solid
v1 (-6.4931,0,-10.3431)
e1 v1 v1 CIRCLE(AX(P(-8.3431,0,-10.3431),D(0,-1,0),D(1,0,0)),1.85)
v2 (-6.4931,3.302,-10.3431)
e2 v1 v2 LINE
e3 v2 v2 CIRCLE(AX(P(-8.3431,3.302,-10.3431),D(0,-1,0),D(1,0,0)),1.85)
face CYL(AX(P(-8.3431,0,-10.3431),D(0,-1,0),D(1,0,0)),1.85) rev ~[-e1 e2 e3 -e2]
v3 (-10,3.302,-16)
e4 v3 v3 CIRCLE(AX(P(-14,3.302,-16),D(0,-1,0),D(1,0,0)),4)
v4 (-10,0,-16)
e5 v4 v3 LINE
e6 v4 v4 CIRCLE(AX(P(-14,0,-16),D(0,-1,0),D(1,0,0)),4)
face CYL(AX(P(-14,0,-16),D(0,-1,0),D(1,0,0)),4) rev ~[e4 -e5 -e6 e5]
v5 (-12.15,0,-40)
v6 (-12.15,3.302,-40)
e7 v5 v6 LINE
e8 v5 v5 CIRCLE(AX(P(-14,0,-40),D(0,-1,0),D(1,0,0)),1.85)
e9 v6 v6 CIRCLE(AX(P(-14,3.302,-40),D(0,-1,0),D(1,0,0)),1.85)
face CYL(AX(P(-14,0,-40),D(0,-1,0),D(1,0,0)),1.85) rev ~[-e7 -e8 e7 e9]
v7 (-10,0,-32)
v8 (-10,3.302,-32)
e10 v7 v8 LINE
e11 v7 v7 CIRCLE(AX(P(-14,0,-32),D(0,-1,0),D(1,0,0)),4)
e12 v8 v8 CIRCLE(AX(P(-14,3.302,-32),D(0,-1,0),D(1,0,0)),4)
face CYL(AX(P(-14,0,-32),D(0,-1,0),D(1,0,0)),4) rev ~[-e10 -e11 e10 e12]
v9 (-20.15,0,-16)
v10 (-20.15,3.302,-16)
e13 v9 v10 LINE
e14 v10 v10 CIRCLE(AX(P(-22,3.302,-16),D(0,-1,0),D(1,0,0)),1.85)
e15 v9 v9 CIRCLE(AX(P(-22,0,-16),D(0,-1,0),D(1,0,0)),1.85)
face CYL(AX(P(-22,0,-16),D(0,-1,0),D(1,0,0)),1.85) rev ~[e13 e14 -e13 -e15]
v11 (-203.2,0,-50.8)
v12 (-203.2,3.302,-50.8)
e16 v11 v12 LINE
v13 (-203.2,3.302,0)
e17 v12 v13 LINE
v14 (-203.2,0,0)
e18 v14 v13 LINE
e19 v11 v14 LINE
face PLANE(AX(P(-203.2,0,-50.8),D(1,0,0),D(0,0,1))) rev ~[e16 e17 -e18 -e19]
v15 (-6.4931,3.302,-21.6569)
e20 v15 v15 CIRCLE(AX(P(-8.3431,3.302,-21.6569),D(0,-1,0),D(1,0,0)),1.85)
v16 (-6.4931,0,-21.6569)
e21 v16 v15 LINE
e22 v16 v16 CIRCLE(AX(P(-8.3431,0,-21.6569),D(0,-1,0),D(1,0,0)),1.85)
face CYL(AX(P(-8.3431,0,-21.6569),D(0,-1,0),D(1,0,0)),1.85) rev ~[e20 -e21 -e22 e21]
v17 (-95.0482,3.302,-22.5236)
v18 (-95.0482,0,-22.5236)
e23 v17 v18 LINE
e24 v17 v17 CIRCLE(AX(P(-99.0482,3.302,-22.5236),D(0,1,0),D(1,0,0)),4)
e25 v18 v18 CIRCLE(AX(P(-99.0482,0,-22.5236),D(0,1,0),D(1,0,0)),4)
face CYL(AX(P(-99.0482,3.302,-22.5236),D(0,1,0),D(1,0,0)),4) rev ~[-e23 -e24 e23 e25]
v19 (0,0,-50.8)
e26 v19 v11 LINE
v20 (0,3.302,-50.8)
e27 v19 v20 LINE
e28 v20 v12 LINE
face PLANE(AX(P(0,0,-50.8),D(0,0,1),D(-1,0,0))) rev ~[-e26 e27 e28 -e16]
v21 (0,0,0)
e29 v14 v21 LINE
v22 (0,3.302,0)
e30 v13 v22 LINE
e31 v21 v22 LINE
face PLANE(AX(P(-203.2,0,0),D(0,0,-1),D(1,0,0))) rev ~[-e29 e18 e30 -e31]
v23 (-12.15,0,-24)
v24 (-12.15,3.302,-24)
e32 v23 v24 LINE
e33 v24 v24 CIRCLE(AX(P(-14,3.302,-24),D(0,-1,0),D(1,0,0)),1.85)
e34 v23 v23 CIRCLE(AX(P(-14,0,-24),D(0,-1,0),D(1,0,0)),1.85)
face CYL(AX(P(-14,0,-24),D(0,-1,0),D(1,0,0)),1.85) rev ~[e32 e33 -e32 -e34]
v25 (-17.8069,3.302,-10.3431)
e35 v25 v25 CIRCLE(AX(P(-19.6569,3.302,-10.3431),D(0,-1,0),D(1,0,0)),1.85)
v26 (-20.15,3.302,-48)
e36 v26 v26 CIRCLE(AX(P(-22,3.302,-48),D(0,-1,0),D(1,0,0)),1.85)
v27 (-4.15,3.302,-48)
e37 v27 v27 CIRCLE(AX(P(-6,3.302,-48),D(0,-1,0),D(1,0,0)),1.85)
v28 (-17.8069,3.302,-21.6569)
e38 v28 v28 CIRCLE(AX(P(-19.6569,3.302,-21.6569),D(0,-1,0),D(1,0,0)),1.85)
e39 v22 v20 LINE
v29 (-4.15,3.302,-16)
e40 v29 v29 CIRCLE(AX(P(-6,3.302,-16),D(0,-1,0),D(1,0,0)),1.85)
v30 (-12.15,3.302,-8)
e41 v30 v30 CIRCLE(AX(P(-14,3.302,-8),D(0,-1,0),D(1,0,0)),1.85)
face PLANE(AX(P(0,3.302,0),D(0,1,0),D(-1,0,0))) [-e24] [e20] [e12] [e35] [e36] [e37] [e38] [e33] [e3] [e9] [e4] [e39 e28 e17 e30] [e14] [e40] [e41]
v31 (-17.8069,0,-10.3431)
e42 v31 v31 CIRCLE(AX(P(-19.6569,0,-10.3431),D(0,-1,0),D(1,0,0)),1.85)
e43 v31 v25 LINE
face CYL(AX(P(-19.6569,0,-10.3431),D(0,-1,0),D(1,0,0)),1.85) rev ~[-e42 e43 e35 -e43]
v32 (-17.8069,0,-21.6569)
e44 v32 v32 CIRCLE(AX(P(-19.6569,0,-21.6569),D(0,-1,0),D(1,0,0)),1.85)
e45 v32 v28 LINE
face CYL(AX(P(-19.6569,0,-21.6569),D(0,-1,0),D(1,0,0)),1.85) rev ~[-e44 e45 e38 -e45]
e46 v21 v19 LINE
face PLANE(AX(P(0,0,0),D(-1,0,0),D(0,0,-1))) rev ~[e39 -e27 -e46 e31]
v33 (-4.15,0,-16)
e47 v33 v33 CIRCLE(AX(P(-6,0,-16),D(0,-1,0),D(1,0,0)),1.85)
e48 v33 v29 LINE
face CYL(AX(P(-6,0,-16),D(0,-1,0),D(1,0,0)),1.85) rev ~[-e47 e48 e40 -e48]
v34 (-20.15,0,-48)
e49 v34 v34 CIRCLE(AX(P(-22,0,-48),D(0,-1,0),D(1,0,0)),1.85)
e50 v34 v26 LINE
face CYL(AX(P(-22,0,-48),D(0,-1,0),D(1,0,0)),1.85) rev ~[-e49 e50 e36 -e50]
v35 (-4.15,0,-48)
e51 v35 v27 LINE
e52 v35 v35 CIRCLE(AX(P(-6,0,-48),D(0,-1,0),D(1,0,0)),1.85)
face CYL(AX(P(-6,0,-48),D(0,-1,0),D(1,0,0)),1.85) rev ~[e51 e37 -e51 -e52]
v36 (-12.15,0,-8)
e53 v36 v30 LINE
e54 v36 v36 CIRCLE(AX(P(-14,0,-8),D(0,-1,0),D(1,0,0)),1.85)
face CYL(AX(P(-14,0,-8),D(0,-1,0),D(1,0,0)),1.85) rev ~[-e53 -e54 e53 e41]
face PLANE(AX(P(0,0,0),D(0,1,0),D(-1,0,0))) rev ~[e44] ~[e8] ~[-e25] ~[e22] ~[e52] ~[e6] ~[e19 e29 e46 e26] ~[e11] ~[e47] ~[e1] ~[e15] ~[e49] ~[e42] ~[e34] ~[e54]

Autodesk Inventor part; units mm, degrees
ref_plane "YZ Plane" through (0, 0, 0) normal (1, 0, 0) x (0, 1, 0)
ref_plane "XZ Plane" through (0, 0, 0) normal (0, 1, 0) x (-1, 0, 0)
ref_plane "XY Plane" through (0, 0, 0) normal (0, 0, 1) x (1, 0, 0)
sketch "Sketch1" plane through (0, 0, 0) normal (0, 1, 0) x (-1, 0, 0)
  line L0 (0, 0) -> (0, -50.8)
  line L1 (0, -50.8) -> (203.2, -50.8)
  line L2 (203.2, -50.8) -> (203.2, 0)
  line L3 (203.2, 0) -> (0, 0)
  dimension "d0" = 50.8
  dimension "d1" = 203.2
extrude "Extrusion1" add sketch "Sketch1" along normal blind 3.302
sketch "Sketch2" plane through (0, 0, 0) normal (0, -1, 0) x (1, 0, 0)
  line L0 (-0.5, 0) -> (-0.5, -416) projected
  line L1 (-27.5, -416) -> (-0.5, -416) projected
  arc A0 (-30, -413.5) -> (-27.5, -416) centre (-27.5, -413.5) ccw projected
  line L2 (-30, -413.5) -> (-30, -2.5) projected
  arc A1 (-27.5, 0) -> (-30, -2.5) centre (-27.5, -2.5) ccw projected
  line L3 (-27.5, 0) -> (-0.5, 0) projected
  circle A2 centre (-14, -288) radius 4 projected
  circle A3 centre (-14, -320) radius 4 projected
  circle A4 centre (-14, -352) radius 4 projected
  circle A5 centre (-14, -384) radius 4 projected
  circle A6 centre (-14, -16) radius 4 projected
  circle A7 centre (-22, -16) radius 1.85 projected
  circle A8 centre (-6, -16) radius 1.85 projected
  circle A9 centre (-14, -24) radius 1.85 projected
  circle A10 centre (-14, -8) radius 1.85 projected
  circle A11 centre (-19.6569, -21.6569) radius 1.85 projected
  circle A12 centre (-19.6569, -10.3431) radius 1.85 projected
  circle A13 centre (-8.3431, -10.3431) radius 1.85 projected
  circle A14 centre (-8.3431, -21.6569) radius 1.85 projected
  circle A15 centre (-14, -80) radius 4 projected
  circle A16 centre (-22, -80) radius 1.85 projected
  circle A17 centre (-6, -80) radius 1.85 projected
  circle A18 centre (-14, -88) radius 1.85 projected
  circle A19 centre (-14, -72) radius 1.85 projected
  circle A20 centre (-19.6569, -85.6569) radius 1.85 projected
  circle A21 centre (-19.6569, -74.3431) radius 1.85 projected
  circle A22 centre (-8.3431, -74.3431) radius 1.85 projected
  circle A23 centre (-8.3431, -85.6569) radius 1.85 projected
  circle A24 centre (-14, -144) radius 4 projected
  circle A25 centre (-22, -144) radius 1.85 projected
  circle A26 centre (-6, -144) radius 1.85 projected
  circle A27 centre (-14, -152) radius 1.85 projected
  circle A28 centre (-14, -136) radius 1.85 projected
  circle A29 centre (-19.6569, -149.6569) radius 1.85 projected
  circle A30 centre (-19.6569, -138.3431) radius 1.85 projected
  circle A31 centre (-8.3431, -138.3431) radius 1.85 projected
  circle A32 centre (-8.3431, -149.6569) radius 1.85 projected
  circle A33 centre (-14, -208) radius 4 projected
  circle A34 centre (-22, -208) radius 1.85 projected
  circle A35 centre (-6, -208) radius 1.85 projected
  circle A36 centre (-14, -216) radius 1.85 projected
  circle A37 centre (-14, -200) radius 1.85 projected
  circle A38 centre (-19.6569, -213.6569) radius 1.85 projected
  circle A39 centre (-19.6569, -202.3431) radius 1.85 projected
  circle A40 centre (-8.3431, -202.3431) radius 1.85 projected
  circle A41 centre (-8.3431, -213.6569) radius 1.85 projected
  circle A42 centre (-14, -272) radius 4 projected
  circle A43 centre (-22, -272) radius 1.85 projected
  circle A44 centre (-6, -272) radius 1.85 projected
  circle A45 centre (-14, -280) radius 1.85 projected
  circle A46 centre (-14, -264) radius 1.85 projected
  circle A47 centre (-19.6569, -277.6569) radius 1.85 projected
  circle A48 centre (-19.6569, -266.3431) radius 1.85 projected
  circle A49 centre (-8.3431, -266.3431) radius 1.85 projected
  circle A50 centre (-8.3431, -277.6569) radius 1.85 projected
  circle A51 centre (-14, -336) radius 4 projected
  circle A52 centre (-22, -336) radius 1.85 projected
  circle A53 centre (-6, -336) radius 1.85 projected
  circle A54 centre (-14, -344) radius 1.85 projected
  circle A55 centre (-14, -328) radius 1.85 projected
  circle A56 centre (-19.6569, -341.6569) radius 1.85 projected
  circle A57 centre (-19.6569, -330.3431) radius 1.85 projected
  circle A58 centre (-8.3431, -330.3431) radius 1.85 projected
  circle A59 centre (-8.3431, -341.6569) radius 1.85 projected
  circle A60 centre (-14, -400) radius 4 projected
  circle A61 centre (-22, -400) radius 1.85 projected
  circle A62 centre (-6, -400) radius 1.85 projected
  circle A63 centre (-14, -408) radius 1.85 projected
  circle A64 centre (-14, -392) radius 1.85 projected
  circle A65 centre (-19.6569, -405.6569) radius 1.85 projected
  circle A66 centre (-19.6569, -394.3431) radius 1.85 projected
  circle A67 centre (-8.3431, -394.3431) radius 1.85 projected
  circle A68 centre (-8.3431, -405.6569) radius 1.85 projected
  circle A69 centre (-14, -48) radius 4 projected
  circle A70 centre (-22, -48) radius 1.85 projected
  circle A71 centre (-14, -56) radius 1.85 projected
  circle A72 centre (-6, -48) radius 1.85 projected
  circle A73 centre (-14, -40) radius 1.85 projected
  circle A74 centre (-14, -112) radius 4 projected
  circle A75 centre (-22, -112) radius 1.85 projected
  circle A76 centre (-14, -120) radius 1.85 projected
  circle A77 centre (-6, -112) radius 1.85 projected
  circle A78 centre (-14, -104) radius 1.85 projected
  circle A79 centre (-14, -176) radius 4 projected
  circle A80 centre (-22, -176) radius 1.85 projected
  circle A81 centre (-14, -184) radius 1.85 projected
  circle A82 centre (-6, -176) radius 1.85 projected
  circle A83 centre (-14, -168) radius 1.85 projected
  circle A84 centre (-14, -240) radius 4 projected
  circle A85 centre (-22, -240) radius 1.85 projected
  circle A86 centre (-14, -248) radius 1.85 projected
  circle A87 centre (-6, -240) radius 1.85 projected
  circle A88 centre (-14, -232) radius 1.85 projected
  circle A89 centre (-14, -304) radius 4 projected
  circle A90 centre (-22, -304) radius 1.85 projected
  circle A91 centre (-14, -312) radius 1.85 projected
  circle A92 centre (-6, -304) radius 1.85 projected
  circle A93 centre (-14, -296) radius 1.85 projected
  circle A94 centre (-14, -368) radius 4 projected
  circle A95 centre (-22, -368) radius 1.85 projected
  circle A96 centre (-14, -376) radius 1.85 projected
  circle A97 centre (-6, -368) radius 1.85 projected
  circle A98 centre (-14, -360) radius 1.85 projected
  circle A99 centre (-14, -32) radius 4 projected
  circle A100 centre (-14, -64) radius 4 projected
  circle A101 centre (-14, -96) radius 4 projected
  circle A102 centre (-14, -128) radius 4 projected
  circle A103 centre (-14, -160) radius 4 projected
  circle A104 centre (-14, -192) radius 4 projected
  circle A105 centre (-14, -224) radius 4 projected
  circle A106 centre (-14, -256) radius 4 projected
  point P0 (0, 0)
extrude "Extrusion2" cut sketch "Sketch2" against normal blind 20.5105 contours A6 | A7 | A8 | A9 | A10 | A11 | A12 | A13 | A14 | A70 | A72 | A73 | A99
sketch "Sketch3" plane through (0, 3.302, 0) normal (0, 1, 0) x (1, 0, 0)
  circle A0 centre (-98.9805, 70.6479) radius 6 projected
  arc A1 (-126.4697, 56.3203) -> (-127.7519, 54.8984) centre (-117.6318, 47.0611) ccw projected
  arc A2 (-127.7519, 54.8984) -> (-127.494, 54.4363) centre (-98.9805, 70.6479) ccw projected
  arc A3 (-127.494, 54.4363) -> (-125.6107, 54.7807) centre (-128.8482, 67.1645) ccw projected
  arc A4 (-125.6107, 54.7807) -> (-125.2608, 54.2076) centre (-98.9805, 70.6479) ccw projected
  arc A5 (-125.2608, 54.2076) -> (-126.4275, 52.6896) centre (-115.7237, 45.6704) ccw projected
  arc A6 (-126.4275, 52.6896) -> (-126.1342, 52.2491) centre (-98.9805, 70.6479) ccw projected
  arc A7 (-126.1342, 52.2491) -> (-124.2837, 52.7402) centre (-128.4828, 64.8318) ccw projected
  arc A8 (-124.2837, 52.7402) -> (-123.8899, 52.1964) centre (-98.9805, 70.6479) ccw projected
  arc A9 (-123.8899, 52.1964) -> (-124.9339, 50.5915) centre (-113.7124, 44.4337) ccw projected
  arc A10 (-124.9339, 50.5915) -> (-124.6069, 50.1754) centre (-98.9805, 70.6479) ccw projected
  arc A11 (-124.6069, 50.1754) -> (-122.8006, 50.8101) centre (-127.9355, 62.535) ccw projected
  arc A12 (-122.8006, 50.8101) -> (-122.3654, 50.2989) centre (-98.9805, 70.6479) ccw projected
  arc A13 (-122.3654, 50.2989) -> (-123.2803, 48.6171) centre (-111.6103, 43.3587) ccw projected
  arc A14 (-123.2803, 48.6171) -> (-122.9217, 48.2279) centre (-98.9805, 70.6479) ccw projected
  arc A15 (-122.9217, 48.2279) -> (-121.1708, 49.0024) centre (-127.2098, 60.2882) ccw projected
  arc A16 (-121.1708, 49.0024) -> (-120.6968, 48.5269) centre (-98.9805, 70.6479) ccw projected
  arc A17 (-120.6968, 48.5269) -> (-121.4768, 46.7784) centre (-109.4302, 42.4519) ccw projected
  arc A18 (-121.4768, 46.7784) -> (-121.0888, 46.4186) centre (-98.9805, 70.6479) ccw projected
  arc A19 (-121.0888, 46.4186) -> (-119.4041, 47.3281) centre (-126.3099, 58.1053) ccw projected
  arc A20 (-119.4041, 47.3281) -> (-118.8942, 46.8912) centre (-98.9805, 70.6479) ccw projected
  arc A21 (-118.8942, 46.8912) -> (-119.5347, 45.087) centre (-107.1858, 41.7189) ccw projected
  arc A22 (-119.5347, 45.087) -> (-119.1197, 44.7587) centre (-98.9805, 70.6479) ccw projected
  arc A23 (-119.1197, 44.7587) -> (-117.5114, 45.7976) centre (-125.2416, 55.9998) ccw projected
  arc A24 (-117.5114, 45.7976) -> (-116.9689, 45.4021) centre (-98.9805, 70.6479) ccw projected
  arc A25 (-116.9689, 45.4021) -> (-117.4659, 43.5531) centre (-104.8907, 41.1643) ccw projected
  arc A26 (-117.4659, 43.5531) -> (-117.0263, 43.2584) centre (-98.9805, 70.6479) ccw projected
  arc A27 (-117.0263, 43.2584) -> (-115.5046, 44.4202) centre (-124.0114, 53.9845) ccw projected
  arc A28 (-115.5046, 44.4202) -> (-114.9327, 44.0685) centre (-98.9805, 70.6479) ccw projected
  arc A29 (-114.9327, 44.0685) -> (-115.283, 42.1863) centre (-102.5593, 40.7915) ccw projected
  arc A30 (-115.283, 42.1863) -> (-114.8217, 41.927) centre (-98.9805, 70.6479) ccw projected
  arc A31 (-114.8217, 41.927) -> (-113.3958, 43.2046) centre (-122.6268, 52.072) ccw projected
  arc A32 (-113.3958, 43.2046) -> (-112.7981, 42.8989) centre (-98.9805, 70.6479) ccw projected
  arc A33 (-112.7981, 42.8989) -> (-112.9997, 40.9949) centre (-100.2057, 40.6028) ccw projected
  arc A34 (-112.9997, 40.9949) -> (-112.5195, 40.7726) centre (-98.9805, 70.6479) ccw projected
  arc A35 (-112.5195, 40.7726) -> (-111.1982, 42.1582) centre (-121.0964, 50.274) ccw projected
  arc A36 (-111.1982, 42.1582) -> (-110.5783, 41.9003) centre (-98.9805, 70.6479) ccw projected
  arc A37 (-110.5783, 41.9003) -> (-110.6299, 39.9864) centre (-97.8446, 40.5992) ccw projected
  arc A38 (-110.6299, 39.9864) -> (-110.1337, 39.8024) centre (-98.9805, 70.6479) ccw projected
  arc A39 (-110.1337, 39.8024) -> (-108.9253, 41.2874) centre (-119.4297, 48.6016) ccw projected
  arc A40 (-108.9253, 41.2874) -> (-108.2871, 41.0789) centre (-98.9805, 70.6479) ccw projected
  arc A41 (-108.2871, 41.0789) -> (-108.1884, 39.1669) centre (-95.4905, 40.781) ccw projected
  arc A42 (-108.1884, 39.1669) -> (-107.6793, 39.0225) centre (-98.9805, 70.6479) ccw projected
  arc A43 (-107.6793, 39.0225) -> (-106.591, 40.5977) centre (-117.637, 47.0651) ccw projected
  arc A44 (-106.591, 40.5977) -> (-105.9384, 40.4399) centre (-98.9805, 70.6479) ccw projected
  arc A45 (-105.9384, 40.4399) -> (-105.69, 38.5415) centre (-93.158, 41.1469) ccw projected
  arc A46 (-105.69, 38.5415) -> (-105.1711, 38.4375) centre (-98.9805, 70.6479) ccw projected
  arc A47 (-105.1711, 38.4375) -> (-104.2099, 40.0932) centre (-115.7292, 45.674) ccw projected
  arc A48 (-104.2099, 40.0932) -> (-103.5469, 39.9871) centre (-98.9805, 70.6479) ccw projected
  arc A49 (-103.5469, 39.9871) -> (-103.1503, 38.1141) centre (-90.8613, 41.6947) ccw projected
  arc A50 (-103.1503, 38.1141) -> (-102.6248, 38.051) centre (-98.9805, 70.6479) ccw projected
  arc A51 (-102.6248, 38.051) -> (-101.7964, 39.7771) centre (-113.7181, 44.4369) ccw projected
  arc A52 (-101.7964, 39.7771) -> (-101.1272, 39.7234) centre (-98.9805, 70.6479) ccw projected
  arc A53 (-101.1272, 39.7234) -> (-100.5848, 37.8872) centre (-88.6147, 42.4209) ccw projected
  arc A54 (-100.5848, 37.8872) -> (-100.0561, 37.8656) centre (-98.9805, 70.6479) ccw projected
  arc A55 (-100.0561, 37.8656) -> (-99.3657, 39.6513) centre (-111.6162, 43.3614) ccw projected
  arc A56 (-99.3657, 39.6513) -> (-98.6942, 39.6503) centre (-98.9805, 70.6479) ccw projected
  arc A57 (-98.6942, 39.6503) -> (-98.0095, 37.8623) centre (-86.4319, 43.3212) ccw projected
  arc A58 (-98.0095, 37.8623) -> (-97.4807, 37.8823) centre (-98.9805, 70.6479) ccw projected
  arc A59 (-97.4807, 37.8823) -> (-96.9325, 39.7167) centre (-109.4364, 42.4542) ccw projected
  arc A60 (-96.9325, 39.7167) -> (-96.2631, 39.7683) centre (-98.9805, 70.6479) ccw projected
  arc A61 (-96.2631, 39.7683) -> (-95.4402, 38.0396) centre (-84.3266, 44.39) ccw projected
  arc A62 (-95.4402, 38.0396) -> (-94.9146, 38.1009) centre (-98.9805, 70.6479) ccw projected
  arc A63 (-94.9146, 38.1009) -> (-94.512, 39.9727) centre (-107.1921, 41.7207) ccw projected
  arc A64 (-94.512, 39.9727) -> (-93.8487, 40.0767) centre (-98.9805, 70.6479) ccw projected
  arc A65 (-93.8487, 40.0767) -> (-92.8927, 38.4179) centre (-82.3116, 45.6207) ccw projected
  arc A66 (-92.8927, 38.4179) -> (-92.3735, 38.5203) centre (-98.9805, 70.6479) ccw projected
  arc A67 (-92.3735, 38.5203) -> (-92.119, 40.4179) centre (-104.8971, 41.1656) ccw projected
  arc A68 (-92.119, 40.4179) -> (-91.4659, 40.5736) centre (-98.9805, 70.6479) ccw projected
  arc A69 (-91.4659, 40.5736) -> (-90.3827, 38.9949) centre (-80.3994, 47.0057) ccw projected
  arc A70 (-90.3827, 38.9949) -> (-89.8731, 39.1377) centre (-98.9805, 70.6479) ccw projected
  arc A71 (-89.8731, 39.1377) -> (-89.7683, 41.0494) centre (-102.5657, 40.7923) ccw projected
  arc A72 (-89.7683, 41.0494) -> (-89.1294, 41.2559) centre (-98.9805, 70.6479) ccw projected
  arc A73 (-89.1294, 41.2559) -> (-87.9257, 39.767) centre (-78.6017, 48.5364) ccw projected
  arc A74 (-87.9257, 39.767) -> (-87.4289, 39.9494) centre (-98.9805, 70.6479) ccw projected
  arc A75 (-87.4289, 39.9494) -> (-87.4745, 41.8634) centre (-100.2122, 40.603) ccw projected
  arc A76 (-87.4745, 41.8634) -> (-86.8537, 42.1194) centre (-98.9805, 70.6479) ccw projected
  arc A77 (-86.8537, 42.1194) -> (-85.5369, 40.7296) centre (-76.9297, 50.2035) ccw projected
  arc A78 (-85.5369, 40.7296) -> (-85.056, 40.9503) centre (-98.9805, 70.6479) ccw projected
  arc A79 (-85.056, 40.9503) -> (-85.2515, 42.8549) centre (-97.8512, 40.599) ccw projected
  arc A80 (-85.2515, 42.8549) -> (-84.6528, 43.1588) centre (-98.9805, 70.6479) ccw projected
  arc A81 (-84.6528, 43.1588) -> (-83.231, 41.8765) centre (-75.3936, 51.9966) ccw projected
  arc A82 (-83.231, 41.8765) -> (-82.7689, 42.1344) centre (-98.9805, 70.6479) ccw projected
  arc A83 (-82.7689, 42.1344) -> (-83.1132, 44.0177) centre (-95.497, 40.7802) ccw projected
  arc A84 (-83.1132, 44.0177) -> (-82.5402, 44.3676) centre (-98.9805, 70.6479) ccw projected
  arc A85 (-82.5402, 44.3676) -> (-81.0222, 43.2009) centre (-74.0029, 53.9047) ccw projected
  arc A86 (-81.0222, 43.2009) -> (-80.5817, 43.4942) centre (-98.9805, 70.6479) ccw projected
  arc A87 (-80.5817, 43.4942) -> (-81.0727, 45.3448) centre (-93.1644, 41.1456) ccw projected
  arc A88 (-81.0727, 45.3448) -> (-80.5289, 45.7385) centre (-98.9805, 70.6479) ccw projected
  arc A89 (-80.5289, 45.7385) -> (-78.9241, 44.6945) centre (-72.7663, 55.916) ccw projected
  arc A90 (-78.9241, 44.6945) -> (-78.5079, 45.0215) centre (-98.9805, 70.6479) ccw projected
  arc A91 (-78.5079, 45.0215) -> (-79.1427, 46.8278) centre (-90.8676, 41.6929) ccw projected
  arc A92 (-79.1427, 46.8278) -> (-78.6314, 47.263) centre (-98.9805, 70.6479) ccw projected
  arc A93 (-78.6314, 47.263) -> (-76.9496, 46.3482) centre (-71.6912, 58.0182) ccw projected
  arc A94 (-76.9496, 46.3482) -> (-76.5604, 46.7068) centre (-98.9805, 70.6479) ccw projected
  arc A95 (-76.5604, 46.7068) -> (-77.3349, 48.4577) centre (-88.6208, 42.4187) ccw projected
  arc A96 (-77.3349, 48.4577) -> (-76.8594, 48.9317) centre (-98.9805, 70.6479) ccw projected
  arc A97 (-76.8594, 48.9317) -> (-75.111, 48.1516) centre (-70.7844, 60.1982) ccw projected
  arc A98 (-75.111, 48.1516) -> (-74.7511, 48.5396) centre (-98.9805, 70.6479) ccw projected
  arc A99 (-74.7511, 48.5396) -> (-75.6606, 50.2244) centre (-86.4379, 43.3185) ccw projected
  arc A100 (-75.6606, 50.2244) -> (-75.2238, 50.7342) centre (-98.9805, 70.6479) ccw projected
  arc A101 (-75.2238, 50.7342) -> (-73.4195, 50.0937) centre (-70.0515, 62.4427) ccw projected
  arc A102 (-73.4195, 50.0937) -> (-73.0912, 50.5088) centre (-98.9805, 70.6479) ccw projected
  arc A103 (-73.0912, 50.5088) -> (-74.1301, 52.117) centre (-84.3323, 44.3868) ccw projected
  arc A104 (-74.1301, 52.117) -> (-73.7346, 52.6595) centre (-98.9805, 70.6479) ccw projected
  arc A105 (-73.7346, 52.6595) -> (-71.8856, 52.1626) centre (-69.4969, 64.7377) ccw projected
  arc A106 (-71.8856, 52.1626) -> (-71.5909, 52.6021) centre (-98.9805, 70.6479) ccw projected
  arc A107 (-71.5909, 52.6021) -> (-72.7528, 54.1239) centre (-82.317, 45.6171) ccw projected
  arc A108 (-72.7528, 54.1239) -> (-72.4011, 54.6958) centre (-98.9805, 70.6479) ccw projected
  arc A109 (-72.4011, 54.6958) -> (-70.5188, 54.3454) centre (-69.124, 67.0692) ccw projected
  arc A110 (-70.5188, 54.3454) -> (-70.2595, 54.8067) centre (-98.9805, 70.6479) ccw projected
  arc A111 (-70.2595, 54.8067) -> (-71.5372, 56.2326) centre (-80.4045, 47.0016) ccw projected
  arc A112 (-71.5372, 56.2326) -> (-71.2314, 56.8303) centre (-98.9805, 70.6479) ccw projected
  arc A113 (-71.2314, 56.8303) -> (-69.3275, 56.6287) centre (-68.9353, 69.4227) ccw projected
  arc A114 (-69.3275, 56.6287) -> (-69.1051, 57.109) centre (-98.9805, 70.6479) ccw projected
  arc A115 (-69.1051, 57.109) -> (-70.4908, 58.4302) centre (-78.6065, 48.532) ccw projected
  arc A116 (-70.4908, 58.4302) -> (-70.2328, 59.0501) centre (-98.9805, 70.6479) ccw projected
  arc A117 (-70.2328, 59.0501) -> (-68.3189, 58.9985) centre (-68.9318, 71.7838) ccw projected
  arc A118 (-68.3189, 58.9985) -> (-68.135, 59.4947) centre (-98.9805, 70.6479) ccw projected
  arc A119 (-68.135, 59.4947) -> (-69.62, 60.7031) centre (-76.9341, 50.1987) ccw projected
  arc A120 (-69.62, 60.7031) -> (-69.4115, 61.3414) centre (-98.9805, 70.6479) ccw projected
  arc A121 (-69.4115, 61.3414) -> (-67.4995, 61.4401) centre (-69.1135, 74.1379) ccw projected
  arc A122 (-67.4995, 61.4401) -> (-67.355, 61.9492) centre (-98.9805, 70.6479) ccw projected
  arc A123 (-67.355, 61.9492) -> (-68.9302, 63.0374) centre (-75.3976, 51.9915) ccw projected
  arc A124 (-68.9302, 63.0374) -> (-68.7725, 63.69) centre (-98.9805, 70.6479) ccw projected
  arc A125 (-68.7725, 63.69) -> (-66.8741, 63.9384) centre (-69.4794, 76.4705) ccw projected
  arc A126 (-66.8741, 63.9384) -> (-66.77, 64.4573) centre (-98.9805, 70.6479) ccw projected
  arc A127 (-66.77, 64.4573) -> (-68.4258, 65.4186) centre (-74.0066, 53.8993) ccw projected
  arc A128 (-68.4258, 65.4186) -> (-68.3197, 66.0816) centre (-98.9805, 70.6479) ccw projected
  arc A129 (-68.3197, 66.0816) -> (-66.4466, 66.4782) centre (-70.0272, 78.7672) ccw projected
  arc A130 (-66.4466, 66.4782) -> (-66.3836, 67.0036) centre (-98.9805, 70.6479) ccw projected
  arc A131 (-66.3836, 67.0036) -> (-68.1097, 67.832) centre (-72.7695, 55.9103) ccw projected
  arc A132 (-68.1097, 67.832) -> (-68.0559, 68.5013) centre (-98.9805, 70.6479) ccw projected
  arc A133 (-68.0559, 68.5013) -> (-66.2197, 69.0436) centre (-70.7535, 81.0138) ccw projected
  arc A134 (-66.2197, 69.0436) -> (-66.1981, 69.5723) centre (-98.9805, 70.6479) ccw projected
  arc A135 (-66.1981, 69.5723) -> (-67.9839, 70.2628) centre (-71.694, 58.0123) ccw projected
  arc A136 (-67.9839, 70.2628) -> (-67.9828, 70.9342) centre (-98.9805, 70.6479) ccw projected
  arc A137 (-67.9828, 70.9342) -> (-66.1949, 71.6189) centre (-71.6538, 83.1965) ccw projected
  arc A138 (-66.1949, 71.6189) -> (-66.2148, 72.1477) centre (-98.9805, 70.6479) ccw projected
  arc A139 (-66.2148, 72.1477) -> (-68.0492, 72.6959) centre (-70.7867, 60.1921) ccw projected
  arc A140 (-68.0492, 72.6959) -> (-68.1008, 73.3654) centre (-98.9805, 70.6479) ccw projected
  arc A141 (-68.1008, 73.3654) -> (-66.3721, 74.1882) centre (-72.7226, 85.3018) ccw projected
  arc A142 (-66.3721, 74.1882) -> (-66.4335, 74.7139) centre (-98.9805, 70.6479) ccw projected
  arc A143 (-66.4335, 74.7139) -> (-68.3052, 75.1165) centre (-70.0533, 62.4364) ccw projected
  arc A144 (-68.3052, 75.1165) -> (-68.4092, 75.7798) centre (-98.9805, 70.6479) ccw projected
  arc A145 (-68.4092, 75.7798) -> (-66.7504, 76.7358) centre (-73.9532, 87.3168) ccw projected
  arc A146 (-66.7504, 76.7358) -> (-66.8528, 77.255) centre (-98.9805, 70.6479) ccw projected
  arc A147 (-66.8528, 77.255) -> (-68.7504, 77.5094) centre (-69.4982, 64.7313) ccw projected
  arc A148 (-68.7504, 77.5094) -> (-68.9061, 78.1625) centre (-98.9805, 70.6479) ccw projected
  arc A149 (-68.9061, 78.1625) -> (-67.3274, 79.2457) centre (-75.3382, 89.2291) ccw projected
  arc A150 (-67.3274, 79.2457) -> (-67.4702, 79.7553) centre (-98.9805, 70.6479) ccw projected
  arc A151 (-67.4702, 79.7553) -> (-69.3819, 79.8601) centre (-69.1248, 67.0627) ccw projected
  arc A152 (-69.3819, 79.8601) -> (-69.5884, 80.499) centre (-98.9805, 70.6479) ccw projected
  arc A153 (-69.5884, 80.499) -> (-68.0995, 81.7027) centre (-76.869, 91.0267) ccw projected
  arc A154 (-68.0995, 81.7027) -> (-68.2819, 82.1995) centre (-98.9805, 70.6479) ccw projected
  arc A155 (-68.2819, 82.1995) -> (-70.196, 82.154) centre (-68.9356, 69.4162) ccw projected
  arc A156 (-70.196, 82.154) -> (-70.4519, 82.7747) centre (-98.9805, 70.6479) ccw projected
  arc A157 (-70.4519, 82.7747) -> (-69.0621, 84.0915) centre (-78.536, 92.6988) ccw projected
  arc A158 (-69.0621, 84.0915) -> (-69.2829, 84.5725) centre (-98.9805, 70.6479) ccw projected
  arc A159 (-69.2829, 84.5725) -> (-71.1874, 84.3769) centre (-68.9315, 71.7773) ccw projected
  arc A160 (-71.1874, 84.3769) -> (-71.4913, 84.9756) centre (-98.9805, 70.6479) ccw projected
  arc A161 (-71.4913, 84.9756) -> (-70.2091, 86.3974) centre (-80.3291, 94.2348) ccw projected
  arc A162 (-70.2091, 86.3974) -> (-70.4669, 86.8596) centre (-98.9805, 70.6479) ccw projected
  arc A163 (-70.4669, 86.8596) -> (-72.3503, 86.5152) centre (-69.1128, 74.1314) ccw projected
  arc A164 (-72.3503, 86.5152) -> (-72.7002, 87.0882) centre (-98.9805, 70.6479) ccw projected
  arc A165 (-72.7002, 87.0882) -> (-71.5335, 88.6063) centre (-82.2372, 95.6255) ccw projected
  arc A166 (-71.5335, 88.6063) -> (-71.8268, 89.0468) centre (-98.9805, 70.6479) ccw projected
  arc A167 (-71.8268, 89.0468) -> (-73.6773, 88.5557) centre (-69.4782, 76.4641) ccw projected
  arc A168 (-73.6773, 88.5557) -> (-74.0711, 89.0995) centre (-98.9805, 70.6479) ccw projected
  arc A169 (-74.0711, 89.0995) -> (-73.0271, 90.7044) centre (-84.2486, 96.8622) ccw projected
  arc A170 (-73.0271, 90.7044) -> (-73.354, 91.1205) centre (-98.9805, 70.6479) ccw projected
  arc A171 (-73.354, 91.1205) -> (-75.1603, 90.4857) centre (-70.0254, 78.7609) ccw projected
  arc A172 (-75.1603, 90.4857) -> (-75.5956, 90.997) centre (-98.9805, 70.6479) ccw projected
  arc A173 (-75.5956, 90.997) -> (-74.6807, 92.6788) centre (-86.3507, 97.9372) ccw projected
  arc A174 (-74.6807, 92.6788) -> (-75.0393, 93.068) centre (-98.9805, 70.6479) ccw projected
  arc A175 (-75.0393, 93.068) -> (-76.7902, 92.2935) centre (-70.7512, 81.0076) ccw projected
  arc A176 (-76.7902, 92.2935) -> (-77.2642, 92.769) centre (-98.9805, 70.6479) ccw projected
  arc A177 (-77.2642, 92.769) -> (-76.4841, 94.5175) centre (-88.5307, 98.844) ccw projected
  arc A178 (-76.4841, 94.5175) -> (-76.8722, 94.8773) centre (-98.9805, 70.6479) ccw projected
  arc A179 (-76.8722, 94.8773) -> (-78.5569, 93.9678) centre (-71.6511, 83.1906) ccw projected
  arc A180 (-78.5569, 93.9678) -> (-79.0668, 94.4047) centre (-98.9805, 70.6479) ccw projected
  arc A181 (-79.0668, 94.4047) -> (-78.4263, 96.2089) centre (-90.7752, 99.577) ccw projected
  arc A182 (-78.4263, 96.2089) -> (-78.8413, 96.5372) centre (-98.9805, 70.6479) ccw projected
  arc A183 (-78.8413, 96.5372) -> (-80.4495, 95.4983) centre (-72.7194, 85.2961) ccw projected
  arc A184 (-80.4495, 95.4983) -> (-80.9921, 95.8938) centre (-98.9805, 70.6479) ccw projected
  arc A185 (-80.9921, 95.8938) -> (-80.4951, 97.7428) centre (-93.0702, 100.1316) ccw projected
  arc A186 (-80.4951, 97.7428) -> (-80.9347, 98.0375) centre (-98.9805, 70.6479) ccw projected
  arc A187 (-80.9347, 98.0375) -> (-82.4564, 96.8756) centre (-73.9496, 87.3114) ccw projected
  arc A188 (-82.4564, 96.8756) -> (-83.0283, 97.2274) centre (-98.9805, 70.6479) ccw projected
  arc A189 (-83.0283, 97.2274) -> (-82.6779, 99.1096) centre (-95.4017, 100.5044) ccw projected
  arc A190 (-82.6779, 99.1096) -> (-83.1392, 99.3689) centre (-98.9805, 70.6479) ccw projected
  arc A191 (-83.1392, 99.3689) -> (-84.5651, 98.0913) centre (-75.3342, 89.2239) ccw projected
  arc A192 (-84.5651, 98.0913) -> (-85.1629, 98.397) centre (-98.9805, 70.6479) ccw projected
  arc A193 (-85.1629, 98.397) -> (-84.9613, 100.301) centre (-97.7552, 100.6931) ccw projected
  arc A194 (-84.9613, 100.301) -> (-85.4415, 100.5233) centre (-98.9805, 70.6479) ccw projected
  arc A195 (-85.4415, 100.5233) -> (-86.7627, 99.1377) centre (-76.8645, 91.0219) ccw projected
  arc A196 (-86.7627, 99.1377) -> (-87.3826, 99.3956) centre (-98.9805, 70.6479) ccw projected
  arc A197 (-87.3826, 99.3956) -> (-87.331, 101.3095) centre (-100.1163, 100.6966) ccw projected
  arc A198 (-87.331, 101.3095) -> (-87.8272, 101.4934) centre (-98.9805, 70.6479) ccw projected
  arc A199 (-87.8272, 101.4934) -> (-89.0357, 100.0084) centre (-78.5312, 92.6943) ccw projected
  arc A200 (-89.0357, 100.0084) -> (-89.6739, 100.2169) centre (-98.9805, 70.6479) ccw projected
  arc A201 (-89.6739, 100.2169) -> (-89.7726, 102.129) centre (-102.4704, 100.5149) ccw projected
  arc A202 (-89.7726, 102.129) -> (-90.2817, 102.2734) centre (-98.9805, 70.6479) ccw projected
  arc A203 (-90.2817, 102.2734) -> (-91.3699, 100.6982) centre (-80.324, 94.2308) ccw projected
  arc A204 (-91.3699, 100.6982) -> (-92.0226, 100.856) centre (-98.9805, 70.6479) ccw projected
  arc A205 (-92.0226, 100.856) -> (-92.271, 102.7544) centre (-104.803, 100.149) ccw projected
  arc A206 (-92.271, 102.7544) -> (-92.7898, 102.8584) centre (-98.9805, 70.6479) ccw projected
  arc A207 (-92.7898, 102.8584) -> (-93.7511, 101.2027) centre (-82.2318, 95.6219) ccw projected
  arc A208 (-93.7511, 101.2027) -> (-94.4141, 101.3088) centre (-98.9805, 70.6479) ccw projected
  arc A209 (-94.4141, 101.3088) -> (-94.8107, 103.1818) centre (-107.0997, 99.6012) ccw projected
  arc A210 (-94.8107, 103.1818) -> (-95.3361, 103.2449) centre (-98.9805, 70.6479) ccw projected
  arc A211 (-95.3361, 103.2449) -> (-96.1645, 101.5188) centre (-84.2429, 96.859) ccw projected
  arc A212 (-96.1645, 101.5188) -> (-96.8338, 101.5725) centre (-98.9805, 70.6479) ccw projected
  arc A213 (-96.8338, 101.5725) -> (-97.3761, 103.4087) centre (-109.3463, 98.875) ccw projected
  arc A214 (-97.3761, 103.4087) -> (-97.9049, 103.4303) centre (-98.9805, 70.6479) ccw projected
  arc A215 (-97.9049, 103.4303) -> (-98.5953, 101.6446) centre (-86.3448, 97.9345) ccw projected
  arc A216 (-98.5953, 101.6446) -> (-99.2667, 101.6456) centre (-98.9805, 70.6479) ccw projected
  arc A217 (-99.2667, 101.6456) -> (-99.9514, 103.4336) centre (-111.529, 97.9747) ccw projected
  arc A218 (-99.9514, 103.4336) -> (-100.4803, 103.4136) centre (-98.9805, 70.6479) ccw projected
  arc A219 (-100.4803, 103.4136) -> (-101.0285, 101.5792) centre (-88.5246, 98.8417) ccw projected
  arc A220 (-101.0285, 101.5792) -> (-101.6979, 101.5276) centre (-98.9805, 70.6479) ccw projected
  arc A221 (-101.6979, 101.5276) -> (-102.5208, 103.2563) centre (-113.6344, 96.9059) ccw projected
  arc A222 (-102.5208, 103.2563) -> (-103.0464, 103.195) centre (-98.9805, 70.6479) ccw projected
  arc A223 (-103.0464, 103.195) -> (-103.449, 101.3232) centre (-90.7689, 99.5752) ccw projected
  arc A224 (-103.449, 101.3232) -> (-104.1123, 101.2192) centre (-98.9805, 70.6479) ccw projected
  arc A225 (-104.1123, 101.2192) -> (-105.0683, 102.878) centre (-115.6494, 95.6752) ccw projected
  arc A226 (-105.0683, 102.878) -> (-105.5875, 102.7756) centre (-98.9805, 70.6479) ccw projected
  arc A227 (-105.5875, 102.7756) -> (-105.842, 100.878) centre (-93.0638, 100.1303) ccw projected
  arc A228 (-105.842, 100.878) -> (-106.4951, 100.7223) centre (-98.9805, 70.6479) ccw projected
  arc A229 (-106.4951, 100.7223) -> (-107.5783, 102.301) centre (-117.5616, 94.2902) ccw projected
  arc A230 (-107.5783, 102.301) -> (-108.0878, 102.1582) centre (-98.9805, 70.6479) ccw projected
  arc A231 (-108.0878, 102.1582) -> (-108.1926, 100.2465) centre (-95.3952, 100.5036) ccw projected
  arc A232 (-108.1926, 100.2465) -> (-108.8315, 100.04) centre (-98.9805, 70.6479) ccw projected
  arc A233 (-108.8315, 100.04) -> (-110.0352, 101.5289) centre (-119.3593, 92.7595) ccw projected
  arc A234 (-110.0352, 101.5289) -> (-110.532, 101.3465) centre (-98.9805, 70.6479) ccw projected
  arc A235 (-110.532, 101.3465) -> (-110.4865, 99.4325) centre (-97.7487, 100.6929) ccw projected
  arc A236 (-110.4865, 99.4325) -> (-111.1072, 99.1765) centre (-98.9805, 70.6479) ccw projected
  arc A237 (-111.1072, 99.1765) -> (-112.4241, 100.5663) centre (-121.0313, 91.0924) ccw projected
  arc A238 (-112.4241, 100.5663) -> (-112.905, 100.3456) centre (-98.9805, 70.6479) ccw projected
  arc A239 (-112.905, 100.3456) -> (-112.7095, 98.441) centre (-100.1098, 100.6969) ccw projected
  arc A240 (-112.7095, 98.441) -> (-113.3082, 98.1371) centre (-98.9805, 70.6479) ccw projected
  arc A241 (-113.3082, 98.1371) -> (-114.73, 99.4193) centre (-122.5674, 89.2993) ccw projected
  arc A242 (-114.73, 99.4193) -> (-115.1921, 99.1615) centre (-98.9805, 70.6479) ccw projected
  arc A243 (-115.1921, 99.1615) -> (-114.8478, 97.2782) centre (-102.464, 100.5157) ccw projected
  arc A244 (-114.8478, 97.2782) -> (-115.4208, 96.9283) centre (-98.9805, 70.6479) ccw projected
  arc A245 (-115.4208, 96.9283) -> (-116.9388, 98.095) centre (-123.958, 87.3912) ccw projected
  arc A246 (-116.9388, 98.095) -> (-117.3793, 97.8017) centre (-98.9805, 70.6479) ccw projected
  arc A247 (-117.3793, 97.8017) -> (-116.8882, 95.9511) centre (-104.7966, 100.1503) ccw projected
  arc A248 (-116.8882, 95.9511) -> (-117.432, 95.5573) centre (-98.9805, 70.6479) ccw projected
  arc A249 (-117.432, 95.5573) -> (-119.0369, 96.6014) centre (-125.1947, 85.3799) ccw projected
  arc A250 (-119.0369, 96.6014) -> (-119.453, 96.2744) centre (-98.9805, 70.6479) ccw projected
  arc A251 (-119.453, 96.2744) -> (-118.8183, 94.4681) centre (-107.0934, 99.603) ccw projected
  arc A252 (-118.8183, 94.4681) -> (-119.3295, 94.0329) centre (-98.9805, 70.6479) ccw projected
  arc A253 (-119.3295, 94.0329) -> (-121.0114, 94.9477) centre (-126.2697, 83.2777) ccw projected
  arc A254 (-121.0114, 94.9477) -> (-121.4006, 94.5891) centre (-98.9805, 70.6479) ccw projected
  arc A255 (-121.4006, 94.5891) -> (-120.626, 92.8382) centre (-109.3402, 98.8772) ccw projected
  arc A256 (-120.626, 92.8382) -> (-121.1016, 92.3642) centre (-98.9805, 70.6479) ccw projected
  arc A257 (-121.1016, 92.3642) -> (-122.85, 93.1443) centre (-127.1765, 81.0977) ccw projected
  arc A258 (-122.85, 93.1443) -> (-123.2098, 92.7563) centre (-98.9805, 70.6479) ccw projected
  arc A259 (-123.2098, 92.7563) -> (-122.3003, 91.0715) centre (-111.5231, 97.9774) ccw projected
  arc A260 (-122.3003, 91.0715) -> (-122.7372, 90.5617) centre (-98.9805, 70.6479) ccw projected
  arc A261 (-122.7372, 90.5617) -> (-124.5415, 91.2022) centre (-127.9095, 78.8532) ccw projected
  arc A262 (-124.5415, 91.2022) -> (-124.8697, 90.7871) centre (-98.9805, 70.6479) ccw projected
  arc A263 (-124.8697, 90.7871) -> (-123.8309, 89.1789) centre (-113.6287, 96.909) ccw projected
  arc A264 (-123.8309, 89.1789) -> (-124.2264, 88.6364) centre (-98.9805, 70.6479) ccw projected
  arc A265 (-124.2264, 88.6364) -> (-126.0753, 89.1333) centre (-128.4641, 76.5582) ccw projected
  arc A266 (-126.0753, 89.1333) -> (-126.37, 88.6938) centre (-98.9805, 70.6479) ccw projected
  arc A267 (-126.37, 88.6938) -> (-125.2082, 87.172) centre (-115.6439, 95.6788) ccw projected
  arc A268 (-125.2082, 87.172) -> (-125.5599, 86.6001) centre (-98.9805, 70.6479) ccw projected
  arc A269 (-125.5599, 86.6001) -> (-127.4422, 86.9505) centre (-128.8369, 74.2267) ccw projected
  arc A270 (-127.4422, 86.9505) -> (-127.7015, 86.4892) centre (-98.9805, 70.6479) ccw projected
  arc A271 (-127.7015, 86.4892) -> (-126.4238, 85.0633) centre (-117.5565, 94.2943) ccw projected
  arc A272 (-126.4238, 85.0633) -> (-126.7296, 84.4656) centre (-98.9805, 70.6479) ccw projected
  arc A273 (-126.7296, 84.4656) -> (-128.6335, 84.6672) centre (-129.0257, 71.8732) ccw projected
  arc A274 (-128.6335, 84.6672) -> (-128.8558, 84.1869) centre (-98.9805, 70.6479) ccw projected
  arc A275 (-128.8558, 84.1869) -> (-127.4702, 82.8657) centre (-119.3545, 92.7639) ccw projected
  arc A276 (-127.4702, 82.8657) -> (-127.7281, 82.2458) centre (-98.9805, 70.6479) ccw projected
  arc A277 (-127.7281, 82.2458) -> (-129.642, 82.2974) centre (-129.0292, 69.5121) ccw projected
  arc A278 (-129.642, 82.2974) -> (-129.826, 81.8012) centre (-98.9805, 70.6479) ccw projected
  arc A279 (-129.826, 81.8012) -> (-128.341, 80.5927) centre (-121.0269, 91.0972) ccw projected
  arc A280 (-128.341, 80.5927) -> (-128.5495, 79.9545) centre (-98.9805, 70.6479) ccw projected
  arc A281 (-128.5495, 79.9545) -> (-130.4615, 79.8558) centre (-128.8474, 67.158) ccw projected
  arc A282 (-130.4615, 79.8558) -> (-130.606, 79.3467) centre (-98.9805, 70.6479) ccw projected
  arc A283 (-130.606, 79.3467) -> (-129.0307, 78.2585) centre (-122.5633, 89.3044) ccw projected
  arc A284 (-129.0307, 78.2585) -> (-129.1885, 77.6059) centre (-98.9805, 70.6479) ccw projected
  arc A285 (-129.1885, 77.6059) -> (-131.0869, 77.3575) centre (-128.4816, 64.8254) ccw projected
  arc A286 (-131.0869, 77.3575) -> (-131.191, 76.8386) centre (-98.9805, 70.6479) ccw projected
  arc A287 (-131.191, 76.8386) -> (-129.5352, 75.8773) centre (-123.9544, 87.3966) ccw projected
  arc A288 (-129.5352, 75.8773) -> (-129.6413, 75.2143) centre (-98.9805, 70.6479) ccw projected
  arc A289 (-129.6413, 75.2143) -> (-131.5144, 74.8177) centre (-127.9338, 62.5287) ccw projected
  arc A290 (-131.5144, 74.8177) -> (-131.5774, 74.2923) centre (-98.9805, 70.6479) ccw projected
  arc A291 (-131.5774, 74.2923) -> (-129.8513, 73.4639) centre (-125.1915, 85.3856) ccw projected
  arc A292 (-129.8513, 73.4639) -> (-129.9051, 72.7946) centre (-98.9805, 70.6479) ccw projected
  arc A293 (-129.9051, 72.7946) -> (-131.7412, 72.2523) centre (-127.2075, 60.2821) ccw projected
  arc A294 (-131.7412, 72.2523) -> (-131.7628, 71.7235) centre (-98.9805, 70.6479) ccw projected
  arc A295 (-131.7628, 71.7235) -> (-129.9771, 71.0331) centre (-126.267, 83.2836) ccw projected
  arc A296 (-129.9771, 71.0331) -> (-129.9782, 70.3617) centre (-98.9805, 70.6479) ccw projected
  arc A297 (-129.9782, 70.3617) -> (-131.7661, 69.677) centre (-126.3072, 58.0994) ccw projected
  arc A298 (-131.7661, 69.677) -> (-131.7462, 69.1482) centre (-98.9805, 70.6479) ccw projected
  arc A299 (-131.7462, 69.1482) -> (-129.9118, 68.6) centre (-127.1743, 81.1038) ccw projected
  arc A300 (-129.9118, 68.6) -> (-129.8602, 67.9305) centre (-98.9805, 70.6479) ccw projected
  arc A301 (-129.8602, 67.9305) -> (-131.5889, 67.1076) centre (-125.2384, 55.9941) ccw projected
  arc A302 (-131.5889, 67.1076) -> (-131.5275, 66.582) centre (-98.9805, 70.6479) ccw projected
  arc A303 (-131.5275, 66.582) -> (-129.6557, 66.1794) centre (-127.9077, 78.8595) ccw projected
  arc A304 (-129.6557, 66.1794) -> (-129.5518, 65.5161) centre (-98.9805, 70.6479) ccw projected
  arc A305 (-129.5518, 65.5161) -> (-131.2106, 64.5601) centre (-124.0077, 53.9791) ccw projected
  arc A306 (-131.2106, 64.5601) -> (-131.1082, 64.0409) centre (-98.9805, 70.6479) ccw projected
  arc A307 (-131.1082, 64.0409) -> (-129.2106, 63.7865) centre (-128.4628, 76.5646) ccw projected
  arc A308 (-129.2106, 63.7865) -> (-129.0549, 63.1334) centre (-98.9805, 70.6479) ccw projected
  arc A309 (-129.0549, 63.1334) -> (-130.6336, 62.0502) centre (-122.6228, 52.0668) ccw projected
  arc A310 (-130.6336, 62.0502) -> (-130.4907, 61.5406) centre (-98.9805, 70.6479) ccw projected
  arc A311 (-130.4907, 61.5406) -> (-128.579, 61.4358) centre (-128.8361, 74.2332) ccw projected
  arc A312 (-128.579, 61.4358) -> (-128.3726, 60.7969) centre (-98.9805, 70.6479) ccw projected
  arc A313 (-128.3726, 60.7969) -> (-129.8614, 59.5932) centre (-121.092, 50.2692) ccw projected
  arc A314 (-129.8614, 59.5932) -> (-129.6791, 59.0964) centre (-98.9805, 70.6479) ccw projected
  arc A315 (-129.6791, 59.0964) -> (-127.765, 59.1419) centre (-129.0254, 71.8797) ccw projected
  arc A316 (-127.765, 59.1419) -> (-127.5091, 58.5212) centre (-98.9805, 70.6479) ccw projected
  arc A317 (-127.5091, 58.5212) -> (-128.8989, 57.2044) centre (-119.425, 48.5971) ccw projected
  arc A318 (-128.8989, 57.2044) -> (-128.6781, 56.7234) centre (-98.9805, 70.6479) ccw projected
  arc A319 (-128.6781, 56.7234) -> (-126.7735, 56.919) centre (-129.0294, 69.5186) ccw projected
  arc A320 (-126.7735, 56.919) -> (-126.4697, 56.3203) centre (-98.9805, 70.6479) ccw projected
  circle A321 centre (-98.9805, 70.6479) radius 4 projected
  circle A322 centre (-102.0302, 78.0439) radius 1.75 projected
  circle A323 centre (-95.9308, 63.252) radius 1.75 projected
  circle A324 centre (-91.5846, 73.6976) radius 1.75 projected
  circle A325 centre (-106.3764, 67.5983) radius 1.75 projected
  circle A326 centre (-117.528, 78.4842) radius 4 projected
  circle A327 centre (-91.3824, 89.3012) radius 4 projected
  circle A328 centre (-80.4524, 62.8124) radius 4 projected
  circle A329 centre (-106.8822, 52.1244) radius 4 projected
  circle A330 centre (-106.6288, 89.1962) radius 4 projected
  circle A331 centre (-91.3243, 52.0805) radius 4 projected
  circle A332 centre (-80.4322, 78.2962) radius 4 projected
  circle A333 centre (-117.548, 62.9917) radius 4 projected
  line L0 (-98.9805, 70.6479) -> (-98.9805, 0)
  line L1 (-203.2, 0) -> (0, 0) projected
sketch "Sketch4" plane through (0, 3.302, 0) normal (0, 1, 0) x (1, 0, 0)
  circle A0 centre (-99.0482, 22.5236) radius 4 projected
  point P0 (0, 0)
extrude "Extrusion3" cut sketch "Sketch4" against normal blind 14.2875
properties part number "Winch Upright"
